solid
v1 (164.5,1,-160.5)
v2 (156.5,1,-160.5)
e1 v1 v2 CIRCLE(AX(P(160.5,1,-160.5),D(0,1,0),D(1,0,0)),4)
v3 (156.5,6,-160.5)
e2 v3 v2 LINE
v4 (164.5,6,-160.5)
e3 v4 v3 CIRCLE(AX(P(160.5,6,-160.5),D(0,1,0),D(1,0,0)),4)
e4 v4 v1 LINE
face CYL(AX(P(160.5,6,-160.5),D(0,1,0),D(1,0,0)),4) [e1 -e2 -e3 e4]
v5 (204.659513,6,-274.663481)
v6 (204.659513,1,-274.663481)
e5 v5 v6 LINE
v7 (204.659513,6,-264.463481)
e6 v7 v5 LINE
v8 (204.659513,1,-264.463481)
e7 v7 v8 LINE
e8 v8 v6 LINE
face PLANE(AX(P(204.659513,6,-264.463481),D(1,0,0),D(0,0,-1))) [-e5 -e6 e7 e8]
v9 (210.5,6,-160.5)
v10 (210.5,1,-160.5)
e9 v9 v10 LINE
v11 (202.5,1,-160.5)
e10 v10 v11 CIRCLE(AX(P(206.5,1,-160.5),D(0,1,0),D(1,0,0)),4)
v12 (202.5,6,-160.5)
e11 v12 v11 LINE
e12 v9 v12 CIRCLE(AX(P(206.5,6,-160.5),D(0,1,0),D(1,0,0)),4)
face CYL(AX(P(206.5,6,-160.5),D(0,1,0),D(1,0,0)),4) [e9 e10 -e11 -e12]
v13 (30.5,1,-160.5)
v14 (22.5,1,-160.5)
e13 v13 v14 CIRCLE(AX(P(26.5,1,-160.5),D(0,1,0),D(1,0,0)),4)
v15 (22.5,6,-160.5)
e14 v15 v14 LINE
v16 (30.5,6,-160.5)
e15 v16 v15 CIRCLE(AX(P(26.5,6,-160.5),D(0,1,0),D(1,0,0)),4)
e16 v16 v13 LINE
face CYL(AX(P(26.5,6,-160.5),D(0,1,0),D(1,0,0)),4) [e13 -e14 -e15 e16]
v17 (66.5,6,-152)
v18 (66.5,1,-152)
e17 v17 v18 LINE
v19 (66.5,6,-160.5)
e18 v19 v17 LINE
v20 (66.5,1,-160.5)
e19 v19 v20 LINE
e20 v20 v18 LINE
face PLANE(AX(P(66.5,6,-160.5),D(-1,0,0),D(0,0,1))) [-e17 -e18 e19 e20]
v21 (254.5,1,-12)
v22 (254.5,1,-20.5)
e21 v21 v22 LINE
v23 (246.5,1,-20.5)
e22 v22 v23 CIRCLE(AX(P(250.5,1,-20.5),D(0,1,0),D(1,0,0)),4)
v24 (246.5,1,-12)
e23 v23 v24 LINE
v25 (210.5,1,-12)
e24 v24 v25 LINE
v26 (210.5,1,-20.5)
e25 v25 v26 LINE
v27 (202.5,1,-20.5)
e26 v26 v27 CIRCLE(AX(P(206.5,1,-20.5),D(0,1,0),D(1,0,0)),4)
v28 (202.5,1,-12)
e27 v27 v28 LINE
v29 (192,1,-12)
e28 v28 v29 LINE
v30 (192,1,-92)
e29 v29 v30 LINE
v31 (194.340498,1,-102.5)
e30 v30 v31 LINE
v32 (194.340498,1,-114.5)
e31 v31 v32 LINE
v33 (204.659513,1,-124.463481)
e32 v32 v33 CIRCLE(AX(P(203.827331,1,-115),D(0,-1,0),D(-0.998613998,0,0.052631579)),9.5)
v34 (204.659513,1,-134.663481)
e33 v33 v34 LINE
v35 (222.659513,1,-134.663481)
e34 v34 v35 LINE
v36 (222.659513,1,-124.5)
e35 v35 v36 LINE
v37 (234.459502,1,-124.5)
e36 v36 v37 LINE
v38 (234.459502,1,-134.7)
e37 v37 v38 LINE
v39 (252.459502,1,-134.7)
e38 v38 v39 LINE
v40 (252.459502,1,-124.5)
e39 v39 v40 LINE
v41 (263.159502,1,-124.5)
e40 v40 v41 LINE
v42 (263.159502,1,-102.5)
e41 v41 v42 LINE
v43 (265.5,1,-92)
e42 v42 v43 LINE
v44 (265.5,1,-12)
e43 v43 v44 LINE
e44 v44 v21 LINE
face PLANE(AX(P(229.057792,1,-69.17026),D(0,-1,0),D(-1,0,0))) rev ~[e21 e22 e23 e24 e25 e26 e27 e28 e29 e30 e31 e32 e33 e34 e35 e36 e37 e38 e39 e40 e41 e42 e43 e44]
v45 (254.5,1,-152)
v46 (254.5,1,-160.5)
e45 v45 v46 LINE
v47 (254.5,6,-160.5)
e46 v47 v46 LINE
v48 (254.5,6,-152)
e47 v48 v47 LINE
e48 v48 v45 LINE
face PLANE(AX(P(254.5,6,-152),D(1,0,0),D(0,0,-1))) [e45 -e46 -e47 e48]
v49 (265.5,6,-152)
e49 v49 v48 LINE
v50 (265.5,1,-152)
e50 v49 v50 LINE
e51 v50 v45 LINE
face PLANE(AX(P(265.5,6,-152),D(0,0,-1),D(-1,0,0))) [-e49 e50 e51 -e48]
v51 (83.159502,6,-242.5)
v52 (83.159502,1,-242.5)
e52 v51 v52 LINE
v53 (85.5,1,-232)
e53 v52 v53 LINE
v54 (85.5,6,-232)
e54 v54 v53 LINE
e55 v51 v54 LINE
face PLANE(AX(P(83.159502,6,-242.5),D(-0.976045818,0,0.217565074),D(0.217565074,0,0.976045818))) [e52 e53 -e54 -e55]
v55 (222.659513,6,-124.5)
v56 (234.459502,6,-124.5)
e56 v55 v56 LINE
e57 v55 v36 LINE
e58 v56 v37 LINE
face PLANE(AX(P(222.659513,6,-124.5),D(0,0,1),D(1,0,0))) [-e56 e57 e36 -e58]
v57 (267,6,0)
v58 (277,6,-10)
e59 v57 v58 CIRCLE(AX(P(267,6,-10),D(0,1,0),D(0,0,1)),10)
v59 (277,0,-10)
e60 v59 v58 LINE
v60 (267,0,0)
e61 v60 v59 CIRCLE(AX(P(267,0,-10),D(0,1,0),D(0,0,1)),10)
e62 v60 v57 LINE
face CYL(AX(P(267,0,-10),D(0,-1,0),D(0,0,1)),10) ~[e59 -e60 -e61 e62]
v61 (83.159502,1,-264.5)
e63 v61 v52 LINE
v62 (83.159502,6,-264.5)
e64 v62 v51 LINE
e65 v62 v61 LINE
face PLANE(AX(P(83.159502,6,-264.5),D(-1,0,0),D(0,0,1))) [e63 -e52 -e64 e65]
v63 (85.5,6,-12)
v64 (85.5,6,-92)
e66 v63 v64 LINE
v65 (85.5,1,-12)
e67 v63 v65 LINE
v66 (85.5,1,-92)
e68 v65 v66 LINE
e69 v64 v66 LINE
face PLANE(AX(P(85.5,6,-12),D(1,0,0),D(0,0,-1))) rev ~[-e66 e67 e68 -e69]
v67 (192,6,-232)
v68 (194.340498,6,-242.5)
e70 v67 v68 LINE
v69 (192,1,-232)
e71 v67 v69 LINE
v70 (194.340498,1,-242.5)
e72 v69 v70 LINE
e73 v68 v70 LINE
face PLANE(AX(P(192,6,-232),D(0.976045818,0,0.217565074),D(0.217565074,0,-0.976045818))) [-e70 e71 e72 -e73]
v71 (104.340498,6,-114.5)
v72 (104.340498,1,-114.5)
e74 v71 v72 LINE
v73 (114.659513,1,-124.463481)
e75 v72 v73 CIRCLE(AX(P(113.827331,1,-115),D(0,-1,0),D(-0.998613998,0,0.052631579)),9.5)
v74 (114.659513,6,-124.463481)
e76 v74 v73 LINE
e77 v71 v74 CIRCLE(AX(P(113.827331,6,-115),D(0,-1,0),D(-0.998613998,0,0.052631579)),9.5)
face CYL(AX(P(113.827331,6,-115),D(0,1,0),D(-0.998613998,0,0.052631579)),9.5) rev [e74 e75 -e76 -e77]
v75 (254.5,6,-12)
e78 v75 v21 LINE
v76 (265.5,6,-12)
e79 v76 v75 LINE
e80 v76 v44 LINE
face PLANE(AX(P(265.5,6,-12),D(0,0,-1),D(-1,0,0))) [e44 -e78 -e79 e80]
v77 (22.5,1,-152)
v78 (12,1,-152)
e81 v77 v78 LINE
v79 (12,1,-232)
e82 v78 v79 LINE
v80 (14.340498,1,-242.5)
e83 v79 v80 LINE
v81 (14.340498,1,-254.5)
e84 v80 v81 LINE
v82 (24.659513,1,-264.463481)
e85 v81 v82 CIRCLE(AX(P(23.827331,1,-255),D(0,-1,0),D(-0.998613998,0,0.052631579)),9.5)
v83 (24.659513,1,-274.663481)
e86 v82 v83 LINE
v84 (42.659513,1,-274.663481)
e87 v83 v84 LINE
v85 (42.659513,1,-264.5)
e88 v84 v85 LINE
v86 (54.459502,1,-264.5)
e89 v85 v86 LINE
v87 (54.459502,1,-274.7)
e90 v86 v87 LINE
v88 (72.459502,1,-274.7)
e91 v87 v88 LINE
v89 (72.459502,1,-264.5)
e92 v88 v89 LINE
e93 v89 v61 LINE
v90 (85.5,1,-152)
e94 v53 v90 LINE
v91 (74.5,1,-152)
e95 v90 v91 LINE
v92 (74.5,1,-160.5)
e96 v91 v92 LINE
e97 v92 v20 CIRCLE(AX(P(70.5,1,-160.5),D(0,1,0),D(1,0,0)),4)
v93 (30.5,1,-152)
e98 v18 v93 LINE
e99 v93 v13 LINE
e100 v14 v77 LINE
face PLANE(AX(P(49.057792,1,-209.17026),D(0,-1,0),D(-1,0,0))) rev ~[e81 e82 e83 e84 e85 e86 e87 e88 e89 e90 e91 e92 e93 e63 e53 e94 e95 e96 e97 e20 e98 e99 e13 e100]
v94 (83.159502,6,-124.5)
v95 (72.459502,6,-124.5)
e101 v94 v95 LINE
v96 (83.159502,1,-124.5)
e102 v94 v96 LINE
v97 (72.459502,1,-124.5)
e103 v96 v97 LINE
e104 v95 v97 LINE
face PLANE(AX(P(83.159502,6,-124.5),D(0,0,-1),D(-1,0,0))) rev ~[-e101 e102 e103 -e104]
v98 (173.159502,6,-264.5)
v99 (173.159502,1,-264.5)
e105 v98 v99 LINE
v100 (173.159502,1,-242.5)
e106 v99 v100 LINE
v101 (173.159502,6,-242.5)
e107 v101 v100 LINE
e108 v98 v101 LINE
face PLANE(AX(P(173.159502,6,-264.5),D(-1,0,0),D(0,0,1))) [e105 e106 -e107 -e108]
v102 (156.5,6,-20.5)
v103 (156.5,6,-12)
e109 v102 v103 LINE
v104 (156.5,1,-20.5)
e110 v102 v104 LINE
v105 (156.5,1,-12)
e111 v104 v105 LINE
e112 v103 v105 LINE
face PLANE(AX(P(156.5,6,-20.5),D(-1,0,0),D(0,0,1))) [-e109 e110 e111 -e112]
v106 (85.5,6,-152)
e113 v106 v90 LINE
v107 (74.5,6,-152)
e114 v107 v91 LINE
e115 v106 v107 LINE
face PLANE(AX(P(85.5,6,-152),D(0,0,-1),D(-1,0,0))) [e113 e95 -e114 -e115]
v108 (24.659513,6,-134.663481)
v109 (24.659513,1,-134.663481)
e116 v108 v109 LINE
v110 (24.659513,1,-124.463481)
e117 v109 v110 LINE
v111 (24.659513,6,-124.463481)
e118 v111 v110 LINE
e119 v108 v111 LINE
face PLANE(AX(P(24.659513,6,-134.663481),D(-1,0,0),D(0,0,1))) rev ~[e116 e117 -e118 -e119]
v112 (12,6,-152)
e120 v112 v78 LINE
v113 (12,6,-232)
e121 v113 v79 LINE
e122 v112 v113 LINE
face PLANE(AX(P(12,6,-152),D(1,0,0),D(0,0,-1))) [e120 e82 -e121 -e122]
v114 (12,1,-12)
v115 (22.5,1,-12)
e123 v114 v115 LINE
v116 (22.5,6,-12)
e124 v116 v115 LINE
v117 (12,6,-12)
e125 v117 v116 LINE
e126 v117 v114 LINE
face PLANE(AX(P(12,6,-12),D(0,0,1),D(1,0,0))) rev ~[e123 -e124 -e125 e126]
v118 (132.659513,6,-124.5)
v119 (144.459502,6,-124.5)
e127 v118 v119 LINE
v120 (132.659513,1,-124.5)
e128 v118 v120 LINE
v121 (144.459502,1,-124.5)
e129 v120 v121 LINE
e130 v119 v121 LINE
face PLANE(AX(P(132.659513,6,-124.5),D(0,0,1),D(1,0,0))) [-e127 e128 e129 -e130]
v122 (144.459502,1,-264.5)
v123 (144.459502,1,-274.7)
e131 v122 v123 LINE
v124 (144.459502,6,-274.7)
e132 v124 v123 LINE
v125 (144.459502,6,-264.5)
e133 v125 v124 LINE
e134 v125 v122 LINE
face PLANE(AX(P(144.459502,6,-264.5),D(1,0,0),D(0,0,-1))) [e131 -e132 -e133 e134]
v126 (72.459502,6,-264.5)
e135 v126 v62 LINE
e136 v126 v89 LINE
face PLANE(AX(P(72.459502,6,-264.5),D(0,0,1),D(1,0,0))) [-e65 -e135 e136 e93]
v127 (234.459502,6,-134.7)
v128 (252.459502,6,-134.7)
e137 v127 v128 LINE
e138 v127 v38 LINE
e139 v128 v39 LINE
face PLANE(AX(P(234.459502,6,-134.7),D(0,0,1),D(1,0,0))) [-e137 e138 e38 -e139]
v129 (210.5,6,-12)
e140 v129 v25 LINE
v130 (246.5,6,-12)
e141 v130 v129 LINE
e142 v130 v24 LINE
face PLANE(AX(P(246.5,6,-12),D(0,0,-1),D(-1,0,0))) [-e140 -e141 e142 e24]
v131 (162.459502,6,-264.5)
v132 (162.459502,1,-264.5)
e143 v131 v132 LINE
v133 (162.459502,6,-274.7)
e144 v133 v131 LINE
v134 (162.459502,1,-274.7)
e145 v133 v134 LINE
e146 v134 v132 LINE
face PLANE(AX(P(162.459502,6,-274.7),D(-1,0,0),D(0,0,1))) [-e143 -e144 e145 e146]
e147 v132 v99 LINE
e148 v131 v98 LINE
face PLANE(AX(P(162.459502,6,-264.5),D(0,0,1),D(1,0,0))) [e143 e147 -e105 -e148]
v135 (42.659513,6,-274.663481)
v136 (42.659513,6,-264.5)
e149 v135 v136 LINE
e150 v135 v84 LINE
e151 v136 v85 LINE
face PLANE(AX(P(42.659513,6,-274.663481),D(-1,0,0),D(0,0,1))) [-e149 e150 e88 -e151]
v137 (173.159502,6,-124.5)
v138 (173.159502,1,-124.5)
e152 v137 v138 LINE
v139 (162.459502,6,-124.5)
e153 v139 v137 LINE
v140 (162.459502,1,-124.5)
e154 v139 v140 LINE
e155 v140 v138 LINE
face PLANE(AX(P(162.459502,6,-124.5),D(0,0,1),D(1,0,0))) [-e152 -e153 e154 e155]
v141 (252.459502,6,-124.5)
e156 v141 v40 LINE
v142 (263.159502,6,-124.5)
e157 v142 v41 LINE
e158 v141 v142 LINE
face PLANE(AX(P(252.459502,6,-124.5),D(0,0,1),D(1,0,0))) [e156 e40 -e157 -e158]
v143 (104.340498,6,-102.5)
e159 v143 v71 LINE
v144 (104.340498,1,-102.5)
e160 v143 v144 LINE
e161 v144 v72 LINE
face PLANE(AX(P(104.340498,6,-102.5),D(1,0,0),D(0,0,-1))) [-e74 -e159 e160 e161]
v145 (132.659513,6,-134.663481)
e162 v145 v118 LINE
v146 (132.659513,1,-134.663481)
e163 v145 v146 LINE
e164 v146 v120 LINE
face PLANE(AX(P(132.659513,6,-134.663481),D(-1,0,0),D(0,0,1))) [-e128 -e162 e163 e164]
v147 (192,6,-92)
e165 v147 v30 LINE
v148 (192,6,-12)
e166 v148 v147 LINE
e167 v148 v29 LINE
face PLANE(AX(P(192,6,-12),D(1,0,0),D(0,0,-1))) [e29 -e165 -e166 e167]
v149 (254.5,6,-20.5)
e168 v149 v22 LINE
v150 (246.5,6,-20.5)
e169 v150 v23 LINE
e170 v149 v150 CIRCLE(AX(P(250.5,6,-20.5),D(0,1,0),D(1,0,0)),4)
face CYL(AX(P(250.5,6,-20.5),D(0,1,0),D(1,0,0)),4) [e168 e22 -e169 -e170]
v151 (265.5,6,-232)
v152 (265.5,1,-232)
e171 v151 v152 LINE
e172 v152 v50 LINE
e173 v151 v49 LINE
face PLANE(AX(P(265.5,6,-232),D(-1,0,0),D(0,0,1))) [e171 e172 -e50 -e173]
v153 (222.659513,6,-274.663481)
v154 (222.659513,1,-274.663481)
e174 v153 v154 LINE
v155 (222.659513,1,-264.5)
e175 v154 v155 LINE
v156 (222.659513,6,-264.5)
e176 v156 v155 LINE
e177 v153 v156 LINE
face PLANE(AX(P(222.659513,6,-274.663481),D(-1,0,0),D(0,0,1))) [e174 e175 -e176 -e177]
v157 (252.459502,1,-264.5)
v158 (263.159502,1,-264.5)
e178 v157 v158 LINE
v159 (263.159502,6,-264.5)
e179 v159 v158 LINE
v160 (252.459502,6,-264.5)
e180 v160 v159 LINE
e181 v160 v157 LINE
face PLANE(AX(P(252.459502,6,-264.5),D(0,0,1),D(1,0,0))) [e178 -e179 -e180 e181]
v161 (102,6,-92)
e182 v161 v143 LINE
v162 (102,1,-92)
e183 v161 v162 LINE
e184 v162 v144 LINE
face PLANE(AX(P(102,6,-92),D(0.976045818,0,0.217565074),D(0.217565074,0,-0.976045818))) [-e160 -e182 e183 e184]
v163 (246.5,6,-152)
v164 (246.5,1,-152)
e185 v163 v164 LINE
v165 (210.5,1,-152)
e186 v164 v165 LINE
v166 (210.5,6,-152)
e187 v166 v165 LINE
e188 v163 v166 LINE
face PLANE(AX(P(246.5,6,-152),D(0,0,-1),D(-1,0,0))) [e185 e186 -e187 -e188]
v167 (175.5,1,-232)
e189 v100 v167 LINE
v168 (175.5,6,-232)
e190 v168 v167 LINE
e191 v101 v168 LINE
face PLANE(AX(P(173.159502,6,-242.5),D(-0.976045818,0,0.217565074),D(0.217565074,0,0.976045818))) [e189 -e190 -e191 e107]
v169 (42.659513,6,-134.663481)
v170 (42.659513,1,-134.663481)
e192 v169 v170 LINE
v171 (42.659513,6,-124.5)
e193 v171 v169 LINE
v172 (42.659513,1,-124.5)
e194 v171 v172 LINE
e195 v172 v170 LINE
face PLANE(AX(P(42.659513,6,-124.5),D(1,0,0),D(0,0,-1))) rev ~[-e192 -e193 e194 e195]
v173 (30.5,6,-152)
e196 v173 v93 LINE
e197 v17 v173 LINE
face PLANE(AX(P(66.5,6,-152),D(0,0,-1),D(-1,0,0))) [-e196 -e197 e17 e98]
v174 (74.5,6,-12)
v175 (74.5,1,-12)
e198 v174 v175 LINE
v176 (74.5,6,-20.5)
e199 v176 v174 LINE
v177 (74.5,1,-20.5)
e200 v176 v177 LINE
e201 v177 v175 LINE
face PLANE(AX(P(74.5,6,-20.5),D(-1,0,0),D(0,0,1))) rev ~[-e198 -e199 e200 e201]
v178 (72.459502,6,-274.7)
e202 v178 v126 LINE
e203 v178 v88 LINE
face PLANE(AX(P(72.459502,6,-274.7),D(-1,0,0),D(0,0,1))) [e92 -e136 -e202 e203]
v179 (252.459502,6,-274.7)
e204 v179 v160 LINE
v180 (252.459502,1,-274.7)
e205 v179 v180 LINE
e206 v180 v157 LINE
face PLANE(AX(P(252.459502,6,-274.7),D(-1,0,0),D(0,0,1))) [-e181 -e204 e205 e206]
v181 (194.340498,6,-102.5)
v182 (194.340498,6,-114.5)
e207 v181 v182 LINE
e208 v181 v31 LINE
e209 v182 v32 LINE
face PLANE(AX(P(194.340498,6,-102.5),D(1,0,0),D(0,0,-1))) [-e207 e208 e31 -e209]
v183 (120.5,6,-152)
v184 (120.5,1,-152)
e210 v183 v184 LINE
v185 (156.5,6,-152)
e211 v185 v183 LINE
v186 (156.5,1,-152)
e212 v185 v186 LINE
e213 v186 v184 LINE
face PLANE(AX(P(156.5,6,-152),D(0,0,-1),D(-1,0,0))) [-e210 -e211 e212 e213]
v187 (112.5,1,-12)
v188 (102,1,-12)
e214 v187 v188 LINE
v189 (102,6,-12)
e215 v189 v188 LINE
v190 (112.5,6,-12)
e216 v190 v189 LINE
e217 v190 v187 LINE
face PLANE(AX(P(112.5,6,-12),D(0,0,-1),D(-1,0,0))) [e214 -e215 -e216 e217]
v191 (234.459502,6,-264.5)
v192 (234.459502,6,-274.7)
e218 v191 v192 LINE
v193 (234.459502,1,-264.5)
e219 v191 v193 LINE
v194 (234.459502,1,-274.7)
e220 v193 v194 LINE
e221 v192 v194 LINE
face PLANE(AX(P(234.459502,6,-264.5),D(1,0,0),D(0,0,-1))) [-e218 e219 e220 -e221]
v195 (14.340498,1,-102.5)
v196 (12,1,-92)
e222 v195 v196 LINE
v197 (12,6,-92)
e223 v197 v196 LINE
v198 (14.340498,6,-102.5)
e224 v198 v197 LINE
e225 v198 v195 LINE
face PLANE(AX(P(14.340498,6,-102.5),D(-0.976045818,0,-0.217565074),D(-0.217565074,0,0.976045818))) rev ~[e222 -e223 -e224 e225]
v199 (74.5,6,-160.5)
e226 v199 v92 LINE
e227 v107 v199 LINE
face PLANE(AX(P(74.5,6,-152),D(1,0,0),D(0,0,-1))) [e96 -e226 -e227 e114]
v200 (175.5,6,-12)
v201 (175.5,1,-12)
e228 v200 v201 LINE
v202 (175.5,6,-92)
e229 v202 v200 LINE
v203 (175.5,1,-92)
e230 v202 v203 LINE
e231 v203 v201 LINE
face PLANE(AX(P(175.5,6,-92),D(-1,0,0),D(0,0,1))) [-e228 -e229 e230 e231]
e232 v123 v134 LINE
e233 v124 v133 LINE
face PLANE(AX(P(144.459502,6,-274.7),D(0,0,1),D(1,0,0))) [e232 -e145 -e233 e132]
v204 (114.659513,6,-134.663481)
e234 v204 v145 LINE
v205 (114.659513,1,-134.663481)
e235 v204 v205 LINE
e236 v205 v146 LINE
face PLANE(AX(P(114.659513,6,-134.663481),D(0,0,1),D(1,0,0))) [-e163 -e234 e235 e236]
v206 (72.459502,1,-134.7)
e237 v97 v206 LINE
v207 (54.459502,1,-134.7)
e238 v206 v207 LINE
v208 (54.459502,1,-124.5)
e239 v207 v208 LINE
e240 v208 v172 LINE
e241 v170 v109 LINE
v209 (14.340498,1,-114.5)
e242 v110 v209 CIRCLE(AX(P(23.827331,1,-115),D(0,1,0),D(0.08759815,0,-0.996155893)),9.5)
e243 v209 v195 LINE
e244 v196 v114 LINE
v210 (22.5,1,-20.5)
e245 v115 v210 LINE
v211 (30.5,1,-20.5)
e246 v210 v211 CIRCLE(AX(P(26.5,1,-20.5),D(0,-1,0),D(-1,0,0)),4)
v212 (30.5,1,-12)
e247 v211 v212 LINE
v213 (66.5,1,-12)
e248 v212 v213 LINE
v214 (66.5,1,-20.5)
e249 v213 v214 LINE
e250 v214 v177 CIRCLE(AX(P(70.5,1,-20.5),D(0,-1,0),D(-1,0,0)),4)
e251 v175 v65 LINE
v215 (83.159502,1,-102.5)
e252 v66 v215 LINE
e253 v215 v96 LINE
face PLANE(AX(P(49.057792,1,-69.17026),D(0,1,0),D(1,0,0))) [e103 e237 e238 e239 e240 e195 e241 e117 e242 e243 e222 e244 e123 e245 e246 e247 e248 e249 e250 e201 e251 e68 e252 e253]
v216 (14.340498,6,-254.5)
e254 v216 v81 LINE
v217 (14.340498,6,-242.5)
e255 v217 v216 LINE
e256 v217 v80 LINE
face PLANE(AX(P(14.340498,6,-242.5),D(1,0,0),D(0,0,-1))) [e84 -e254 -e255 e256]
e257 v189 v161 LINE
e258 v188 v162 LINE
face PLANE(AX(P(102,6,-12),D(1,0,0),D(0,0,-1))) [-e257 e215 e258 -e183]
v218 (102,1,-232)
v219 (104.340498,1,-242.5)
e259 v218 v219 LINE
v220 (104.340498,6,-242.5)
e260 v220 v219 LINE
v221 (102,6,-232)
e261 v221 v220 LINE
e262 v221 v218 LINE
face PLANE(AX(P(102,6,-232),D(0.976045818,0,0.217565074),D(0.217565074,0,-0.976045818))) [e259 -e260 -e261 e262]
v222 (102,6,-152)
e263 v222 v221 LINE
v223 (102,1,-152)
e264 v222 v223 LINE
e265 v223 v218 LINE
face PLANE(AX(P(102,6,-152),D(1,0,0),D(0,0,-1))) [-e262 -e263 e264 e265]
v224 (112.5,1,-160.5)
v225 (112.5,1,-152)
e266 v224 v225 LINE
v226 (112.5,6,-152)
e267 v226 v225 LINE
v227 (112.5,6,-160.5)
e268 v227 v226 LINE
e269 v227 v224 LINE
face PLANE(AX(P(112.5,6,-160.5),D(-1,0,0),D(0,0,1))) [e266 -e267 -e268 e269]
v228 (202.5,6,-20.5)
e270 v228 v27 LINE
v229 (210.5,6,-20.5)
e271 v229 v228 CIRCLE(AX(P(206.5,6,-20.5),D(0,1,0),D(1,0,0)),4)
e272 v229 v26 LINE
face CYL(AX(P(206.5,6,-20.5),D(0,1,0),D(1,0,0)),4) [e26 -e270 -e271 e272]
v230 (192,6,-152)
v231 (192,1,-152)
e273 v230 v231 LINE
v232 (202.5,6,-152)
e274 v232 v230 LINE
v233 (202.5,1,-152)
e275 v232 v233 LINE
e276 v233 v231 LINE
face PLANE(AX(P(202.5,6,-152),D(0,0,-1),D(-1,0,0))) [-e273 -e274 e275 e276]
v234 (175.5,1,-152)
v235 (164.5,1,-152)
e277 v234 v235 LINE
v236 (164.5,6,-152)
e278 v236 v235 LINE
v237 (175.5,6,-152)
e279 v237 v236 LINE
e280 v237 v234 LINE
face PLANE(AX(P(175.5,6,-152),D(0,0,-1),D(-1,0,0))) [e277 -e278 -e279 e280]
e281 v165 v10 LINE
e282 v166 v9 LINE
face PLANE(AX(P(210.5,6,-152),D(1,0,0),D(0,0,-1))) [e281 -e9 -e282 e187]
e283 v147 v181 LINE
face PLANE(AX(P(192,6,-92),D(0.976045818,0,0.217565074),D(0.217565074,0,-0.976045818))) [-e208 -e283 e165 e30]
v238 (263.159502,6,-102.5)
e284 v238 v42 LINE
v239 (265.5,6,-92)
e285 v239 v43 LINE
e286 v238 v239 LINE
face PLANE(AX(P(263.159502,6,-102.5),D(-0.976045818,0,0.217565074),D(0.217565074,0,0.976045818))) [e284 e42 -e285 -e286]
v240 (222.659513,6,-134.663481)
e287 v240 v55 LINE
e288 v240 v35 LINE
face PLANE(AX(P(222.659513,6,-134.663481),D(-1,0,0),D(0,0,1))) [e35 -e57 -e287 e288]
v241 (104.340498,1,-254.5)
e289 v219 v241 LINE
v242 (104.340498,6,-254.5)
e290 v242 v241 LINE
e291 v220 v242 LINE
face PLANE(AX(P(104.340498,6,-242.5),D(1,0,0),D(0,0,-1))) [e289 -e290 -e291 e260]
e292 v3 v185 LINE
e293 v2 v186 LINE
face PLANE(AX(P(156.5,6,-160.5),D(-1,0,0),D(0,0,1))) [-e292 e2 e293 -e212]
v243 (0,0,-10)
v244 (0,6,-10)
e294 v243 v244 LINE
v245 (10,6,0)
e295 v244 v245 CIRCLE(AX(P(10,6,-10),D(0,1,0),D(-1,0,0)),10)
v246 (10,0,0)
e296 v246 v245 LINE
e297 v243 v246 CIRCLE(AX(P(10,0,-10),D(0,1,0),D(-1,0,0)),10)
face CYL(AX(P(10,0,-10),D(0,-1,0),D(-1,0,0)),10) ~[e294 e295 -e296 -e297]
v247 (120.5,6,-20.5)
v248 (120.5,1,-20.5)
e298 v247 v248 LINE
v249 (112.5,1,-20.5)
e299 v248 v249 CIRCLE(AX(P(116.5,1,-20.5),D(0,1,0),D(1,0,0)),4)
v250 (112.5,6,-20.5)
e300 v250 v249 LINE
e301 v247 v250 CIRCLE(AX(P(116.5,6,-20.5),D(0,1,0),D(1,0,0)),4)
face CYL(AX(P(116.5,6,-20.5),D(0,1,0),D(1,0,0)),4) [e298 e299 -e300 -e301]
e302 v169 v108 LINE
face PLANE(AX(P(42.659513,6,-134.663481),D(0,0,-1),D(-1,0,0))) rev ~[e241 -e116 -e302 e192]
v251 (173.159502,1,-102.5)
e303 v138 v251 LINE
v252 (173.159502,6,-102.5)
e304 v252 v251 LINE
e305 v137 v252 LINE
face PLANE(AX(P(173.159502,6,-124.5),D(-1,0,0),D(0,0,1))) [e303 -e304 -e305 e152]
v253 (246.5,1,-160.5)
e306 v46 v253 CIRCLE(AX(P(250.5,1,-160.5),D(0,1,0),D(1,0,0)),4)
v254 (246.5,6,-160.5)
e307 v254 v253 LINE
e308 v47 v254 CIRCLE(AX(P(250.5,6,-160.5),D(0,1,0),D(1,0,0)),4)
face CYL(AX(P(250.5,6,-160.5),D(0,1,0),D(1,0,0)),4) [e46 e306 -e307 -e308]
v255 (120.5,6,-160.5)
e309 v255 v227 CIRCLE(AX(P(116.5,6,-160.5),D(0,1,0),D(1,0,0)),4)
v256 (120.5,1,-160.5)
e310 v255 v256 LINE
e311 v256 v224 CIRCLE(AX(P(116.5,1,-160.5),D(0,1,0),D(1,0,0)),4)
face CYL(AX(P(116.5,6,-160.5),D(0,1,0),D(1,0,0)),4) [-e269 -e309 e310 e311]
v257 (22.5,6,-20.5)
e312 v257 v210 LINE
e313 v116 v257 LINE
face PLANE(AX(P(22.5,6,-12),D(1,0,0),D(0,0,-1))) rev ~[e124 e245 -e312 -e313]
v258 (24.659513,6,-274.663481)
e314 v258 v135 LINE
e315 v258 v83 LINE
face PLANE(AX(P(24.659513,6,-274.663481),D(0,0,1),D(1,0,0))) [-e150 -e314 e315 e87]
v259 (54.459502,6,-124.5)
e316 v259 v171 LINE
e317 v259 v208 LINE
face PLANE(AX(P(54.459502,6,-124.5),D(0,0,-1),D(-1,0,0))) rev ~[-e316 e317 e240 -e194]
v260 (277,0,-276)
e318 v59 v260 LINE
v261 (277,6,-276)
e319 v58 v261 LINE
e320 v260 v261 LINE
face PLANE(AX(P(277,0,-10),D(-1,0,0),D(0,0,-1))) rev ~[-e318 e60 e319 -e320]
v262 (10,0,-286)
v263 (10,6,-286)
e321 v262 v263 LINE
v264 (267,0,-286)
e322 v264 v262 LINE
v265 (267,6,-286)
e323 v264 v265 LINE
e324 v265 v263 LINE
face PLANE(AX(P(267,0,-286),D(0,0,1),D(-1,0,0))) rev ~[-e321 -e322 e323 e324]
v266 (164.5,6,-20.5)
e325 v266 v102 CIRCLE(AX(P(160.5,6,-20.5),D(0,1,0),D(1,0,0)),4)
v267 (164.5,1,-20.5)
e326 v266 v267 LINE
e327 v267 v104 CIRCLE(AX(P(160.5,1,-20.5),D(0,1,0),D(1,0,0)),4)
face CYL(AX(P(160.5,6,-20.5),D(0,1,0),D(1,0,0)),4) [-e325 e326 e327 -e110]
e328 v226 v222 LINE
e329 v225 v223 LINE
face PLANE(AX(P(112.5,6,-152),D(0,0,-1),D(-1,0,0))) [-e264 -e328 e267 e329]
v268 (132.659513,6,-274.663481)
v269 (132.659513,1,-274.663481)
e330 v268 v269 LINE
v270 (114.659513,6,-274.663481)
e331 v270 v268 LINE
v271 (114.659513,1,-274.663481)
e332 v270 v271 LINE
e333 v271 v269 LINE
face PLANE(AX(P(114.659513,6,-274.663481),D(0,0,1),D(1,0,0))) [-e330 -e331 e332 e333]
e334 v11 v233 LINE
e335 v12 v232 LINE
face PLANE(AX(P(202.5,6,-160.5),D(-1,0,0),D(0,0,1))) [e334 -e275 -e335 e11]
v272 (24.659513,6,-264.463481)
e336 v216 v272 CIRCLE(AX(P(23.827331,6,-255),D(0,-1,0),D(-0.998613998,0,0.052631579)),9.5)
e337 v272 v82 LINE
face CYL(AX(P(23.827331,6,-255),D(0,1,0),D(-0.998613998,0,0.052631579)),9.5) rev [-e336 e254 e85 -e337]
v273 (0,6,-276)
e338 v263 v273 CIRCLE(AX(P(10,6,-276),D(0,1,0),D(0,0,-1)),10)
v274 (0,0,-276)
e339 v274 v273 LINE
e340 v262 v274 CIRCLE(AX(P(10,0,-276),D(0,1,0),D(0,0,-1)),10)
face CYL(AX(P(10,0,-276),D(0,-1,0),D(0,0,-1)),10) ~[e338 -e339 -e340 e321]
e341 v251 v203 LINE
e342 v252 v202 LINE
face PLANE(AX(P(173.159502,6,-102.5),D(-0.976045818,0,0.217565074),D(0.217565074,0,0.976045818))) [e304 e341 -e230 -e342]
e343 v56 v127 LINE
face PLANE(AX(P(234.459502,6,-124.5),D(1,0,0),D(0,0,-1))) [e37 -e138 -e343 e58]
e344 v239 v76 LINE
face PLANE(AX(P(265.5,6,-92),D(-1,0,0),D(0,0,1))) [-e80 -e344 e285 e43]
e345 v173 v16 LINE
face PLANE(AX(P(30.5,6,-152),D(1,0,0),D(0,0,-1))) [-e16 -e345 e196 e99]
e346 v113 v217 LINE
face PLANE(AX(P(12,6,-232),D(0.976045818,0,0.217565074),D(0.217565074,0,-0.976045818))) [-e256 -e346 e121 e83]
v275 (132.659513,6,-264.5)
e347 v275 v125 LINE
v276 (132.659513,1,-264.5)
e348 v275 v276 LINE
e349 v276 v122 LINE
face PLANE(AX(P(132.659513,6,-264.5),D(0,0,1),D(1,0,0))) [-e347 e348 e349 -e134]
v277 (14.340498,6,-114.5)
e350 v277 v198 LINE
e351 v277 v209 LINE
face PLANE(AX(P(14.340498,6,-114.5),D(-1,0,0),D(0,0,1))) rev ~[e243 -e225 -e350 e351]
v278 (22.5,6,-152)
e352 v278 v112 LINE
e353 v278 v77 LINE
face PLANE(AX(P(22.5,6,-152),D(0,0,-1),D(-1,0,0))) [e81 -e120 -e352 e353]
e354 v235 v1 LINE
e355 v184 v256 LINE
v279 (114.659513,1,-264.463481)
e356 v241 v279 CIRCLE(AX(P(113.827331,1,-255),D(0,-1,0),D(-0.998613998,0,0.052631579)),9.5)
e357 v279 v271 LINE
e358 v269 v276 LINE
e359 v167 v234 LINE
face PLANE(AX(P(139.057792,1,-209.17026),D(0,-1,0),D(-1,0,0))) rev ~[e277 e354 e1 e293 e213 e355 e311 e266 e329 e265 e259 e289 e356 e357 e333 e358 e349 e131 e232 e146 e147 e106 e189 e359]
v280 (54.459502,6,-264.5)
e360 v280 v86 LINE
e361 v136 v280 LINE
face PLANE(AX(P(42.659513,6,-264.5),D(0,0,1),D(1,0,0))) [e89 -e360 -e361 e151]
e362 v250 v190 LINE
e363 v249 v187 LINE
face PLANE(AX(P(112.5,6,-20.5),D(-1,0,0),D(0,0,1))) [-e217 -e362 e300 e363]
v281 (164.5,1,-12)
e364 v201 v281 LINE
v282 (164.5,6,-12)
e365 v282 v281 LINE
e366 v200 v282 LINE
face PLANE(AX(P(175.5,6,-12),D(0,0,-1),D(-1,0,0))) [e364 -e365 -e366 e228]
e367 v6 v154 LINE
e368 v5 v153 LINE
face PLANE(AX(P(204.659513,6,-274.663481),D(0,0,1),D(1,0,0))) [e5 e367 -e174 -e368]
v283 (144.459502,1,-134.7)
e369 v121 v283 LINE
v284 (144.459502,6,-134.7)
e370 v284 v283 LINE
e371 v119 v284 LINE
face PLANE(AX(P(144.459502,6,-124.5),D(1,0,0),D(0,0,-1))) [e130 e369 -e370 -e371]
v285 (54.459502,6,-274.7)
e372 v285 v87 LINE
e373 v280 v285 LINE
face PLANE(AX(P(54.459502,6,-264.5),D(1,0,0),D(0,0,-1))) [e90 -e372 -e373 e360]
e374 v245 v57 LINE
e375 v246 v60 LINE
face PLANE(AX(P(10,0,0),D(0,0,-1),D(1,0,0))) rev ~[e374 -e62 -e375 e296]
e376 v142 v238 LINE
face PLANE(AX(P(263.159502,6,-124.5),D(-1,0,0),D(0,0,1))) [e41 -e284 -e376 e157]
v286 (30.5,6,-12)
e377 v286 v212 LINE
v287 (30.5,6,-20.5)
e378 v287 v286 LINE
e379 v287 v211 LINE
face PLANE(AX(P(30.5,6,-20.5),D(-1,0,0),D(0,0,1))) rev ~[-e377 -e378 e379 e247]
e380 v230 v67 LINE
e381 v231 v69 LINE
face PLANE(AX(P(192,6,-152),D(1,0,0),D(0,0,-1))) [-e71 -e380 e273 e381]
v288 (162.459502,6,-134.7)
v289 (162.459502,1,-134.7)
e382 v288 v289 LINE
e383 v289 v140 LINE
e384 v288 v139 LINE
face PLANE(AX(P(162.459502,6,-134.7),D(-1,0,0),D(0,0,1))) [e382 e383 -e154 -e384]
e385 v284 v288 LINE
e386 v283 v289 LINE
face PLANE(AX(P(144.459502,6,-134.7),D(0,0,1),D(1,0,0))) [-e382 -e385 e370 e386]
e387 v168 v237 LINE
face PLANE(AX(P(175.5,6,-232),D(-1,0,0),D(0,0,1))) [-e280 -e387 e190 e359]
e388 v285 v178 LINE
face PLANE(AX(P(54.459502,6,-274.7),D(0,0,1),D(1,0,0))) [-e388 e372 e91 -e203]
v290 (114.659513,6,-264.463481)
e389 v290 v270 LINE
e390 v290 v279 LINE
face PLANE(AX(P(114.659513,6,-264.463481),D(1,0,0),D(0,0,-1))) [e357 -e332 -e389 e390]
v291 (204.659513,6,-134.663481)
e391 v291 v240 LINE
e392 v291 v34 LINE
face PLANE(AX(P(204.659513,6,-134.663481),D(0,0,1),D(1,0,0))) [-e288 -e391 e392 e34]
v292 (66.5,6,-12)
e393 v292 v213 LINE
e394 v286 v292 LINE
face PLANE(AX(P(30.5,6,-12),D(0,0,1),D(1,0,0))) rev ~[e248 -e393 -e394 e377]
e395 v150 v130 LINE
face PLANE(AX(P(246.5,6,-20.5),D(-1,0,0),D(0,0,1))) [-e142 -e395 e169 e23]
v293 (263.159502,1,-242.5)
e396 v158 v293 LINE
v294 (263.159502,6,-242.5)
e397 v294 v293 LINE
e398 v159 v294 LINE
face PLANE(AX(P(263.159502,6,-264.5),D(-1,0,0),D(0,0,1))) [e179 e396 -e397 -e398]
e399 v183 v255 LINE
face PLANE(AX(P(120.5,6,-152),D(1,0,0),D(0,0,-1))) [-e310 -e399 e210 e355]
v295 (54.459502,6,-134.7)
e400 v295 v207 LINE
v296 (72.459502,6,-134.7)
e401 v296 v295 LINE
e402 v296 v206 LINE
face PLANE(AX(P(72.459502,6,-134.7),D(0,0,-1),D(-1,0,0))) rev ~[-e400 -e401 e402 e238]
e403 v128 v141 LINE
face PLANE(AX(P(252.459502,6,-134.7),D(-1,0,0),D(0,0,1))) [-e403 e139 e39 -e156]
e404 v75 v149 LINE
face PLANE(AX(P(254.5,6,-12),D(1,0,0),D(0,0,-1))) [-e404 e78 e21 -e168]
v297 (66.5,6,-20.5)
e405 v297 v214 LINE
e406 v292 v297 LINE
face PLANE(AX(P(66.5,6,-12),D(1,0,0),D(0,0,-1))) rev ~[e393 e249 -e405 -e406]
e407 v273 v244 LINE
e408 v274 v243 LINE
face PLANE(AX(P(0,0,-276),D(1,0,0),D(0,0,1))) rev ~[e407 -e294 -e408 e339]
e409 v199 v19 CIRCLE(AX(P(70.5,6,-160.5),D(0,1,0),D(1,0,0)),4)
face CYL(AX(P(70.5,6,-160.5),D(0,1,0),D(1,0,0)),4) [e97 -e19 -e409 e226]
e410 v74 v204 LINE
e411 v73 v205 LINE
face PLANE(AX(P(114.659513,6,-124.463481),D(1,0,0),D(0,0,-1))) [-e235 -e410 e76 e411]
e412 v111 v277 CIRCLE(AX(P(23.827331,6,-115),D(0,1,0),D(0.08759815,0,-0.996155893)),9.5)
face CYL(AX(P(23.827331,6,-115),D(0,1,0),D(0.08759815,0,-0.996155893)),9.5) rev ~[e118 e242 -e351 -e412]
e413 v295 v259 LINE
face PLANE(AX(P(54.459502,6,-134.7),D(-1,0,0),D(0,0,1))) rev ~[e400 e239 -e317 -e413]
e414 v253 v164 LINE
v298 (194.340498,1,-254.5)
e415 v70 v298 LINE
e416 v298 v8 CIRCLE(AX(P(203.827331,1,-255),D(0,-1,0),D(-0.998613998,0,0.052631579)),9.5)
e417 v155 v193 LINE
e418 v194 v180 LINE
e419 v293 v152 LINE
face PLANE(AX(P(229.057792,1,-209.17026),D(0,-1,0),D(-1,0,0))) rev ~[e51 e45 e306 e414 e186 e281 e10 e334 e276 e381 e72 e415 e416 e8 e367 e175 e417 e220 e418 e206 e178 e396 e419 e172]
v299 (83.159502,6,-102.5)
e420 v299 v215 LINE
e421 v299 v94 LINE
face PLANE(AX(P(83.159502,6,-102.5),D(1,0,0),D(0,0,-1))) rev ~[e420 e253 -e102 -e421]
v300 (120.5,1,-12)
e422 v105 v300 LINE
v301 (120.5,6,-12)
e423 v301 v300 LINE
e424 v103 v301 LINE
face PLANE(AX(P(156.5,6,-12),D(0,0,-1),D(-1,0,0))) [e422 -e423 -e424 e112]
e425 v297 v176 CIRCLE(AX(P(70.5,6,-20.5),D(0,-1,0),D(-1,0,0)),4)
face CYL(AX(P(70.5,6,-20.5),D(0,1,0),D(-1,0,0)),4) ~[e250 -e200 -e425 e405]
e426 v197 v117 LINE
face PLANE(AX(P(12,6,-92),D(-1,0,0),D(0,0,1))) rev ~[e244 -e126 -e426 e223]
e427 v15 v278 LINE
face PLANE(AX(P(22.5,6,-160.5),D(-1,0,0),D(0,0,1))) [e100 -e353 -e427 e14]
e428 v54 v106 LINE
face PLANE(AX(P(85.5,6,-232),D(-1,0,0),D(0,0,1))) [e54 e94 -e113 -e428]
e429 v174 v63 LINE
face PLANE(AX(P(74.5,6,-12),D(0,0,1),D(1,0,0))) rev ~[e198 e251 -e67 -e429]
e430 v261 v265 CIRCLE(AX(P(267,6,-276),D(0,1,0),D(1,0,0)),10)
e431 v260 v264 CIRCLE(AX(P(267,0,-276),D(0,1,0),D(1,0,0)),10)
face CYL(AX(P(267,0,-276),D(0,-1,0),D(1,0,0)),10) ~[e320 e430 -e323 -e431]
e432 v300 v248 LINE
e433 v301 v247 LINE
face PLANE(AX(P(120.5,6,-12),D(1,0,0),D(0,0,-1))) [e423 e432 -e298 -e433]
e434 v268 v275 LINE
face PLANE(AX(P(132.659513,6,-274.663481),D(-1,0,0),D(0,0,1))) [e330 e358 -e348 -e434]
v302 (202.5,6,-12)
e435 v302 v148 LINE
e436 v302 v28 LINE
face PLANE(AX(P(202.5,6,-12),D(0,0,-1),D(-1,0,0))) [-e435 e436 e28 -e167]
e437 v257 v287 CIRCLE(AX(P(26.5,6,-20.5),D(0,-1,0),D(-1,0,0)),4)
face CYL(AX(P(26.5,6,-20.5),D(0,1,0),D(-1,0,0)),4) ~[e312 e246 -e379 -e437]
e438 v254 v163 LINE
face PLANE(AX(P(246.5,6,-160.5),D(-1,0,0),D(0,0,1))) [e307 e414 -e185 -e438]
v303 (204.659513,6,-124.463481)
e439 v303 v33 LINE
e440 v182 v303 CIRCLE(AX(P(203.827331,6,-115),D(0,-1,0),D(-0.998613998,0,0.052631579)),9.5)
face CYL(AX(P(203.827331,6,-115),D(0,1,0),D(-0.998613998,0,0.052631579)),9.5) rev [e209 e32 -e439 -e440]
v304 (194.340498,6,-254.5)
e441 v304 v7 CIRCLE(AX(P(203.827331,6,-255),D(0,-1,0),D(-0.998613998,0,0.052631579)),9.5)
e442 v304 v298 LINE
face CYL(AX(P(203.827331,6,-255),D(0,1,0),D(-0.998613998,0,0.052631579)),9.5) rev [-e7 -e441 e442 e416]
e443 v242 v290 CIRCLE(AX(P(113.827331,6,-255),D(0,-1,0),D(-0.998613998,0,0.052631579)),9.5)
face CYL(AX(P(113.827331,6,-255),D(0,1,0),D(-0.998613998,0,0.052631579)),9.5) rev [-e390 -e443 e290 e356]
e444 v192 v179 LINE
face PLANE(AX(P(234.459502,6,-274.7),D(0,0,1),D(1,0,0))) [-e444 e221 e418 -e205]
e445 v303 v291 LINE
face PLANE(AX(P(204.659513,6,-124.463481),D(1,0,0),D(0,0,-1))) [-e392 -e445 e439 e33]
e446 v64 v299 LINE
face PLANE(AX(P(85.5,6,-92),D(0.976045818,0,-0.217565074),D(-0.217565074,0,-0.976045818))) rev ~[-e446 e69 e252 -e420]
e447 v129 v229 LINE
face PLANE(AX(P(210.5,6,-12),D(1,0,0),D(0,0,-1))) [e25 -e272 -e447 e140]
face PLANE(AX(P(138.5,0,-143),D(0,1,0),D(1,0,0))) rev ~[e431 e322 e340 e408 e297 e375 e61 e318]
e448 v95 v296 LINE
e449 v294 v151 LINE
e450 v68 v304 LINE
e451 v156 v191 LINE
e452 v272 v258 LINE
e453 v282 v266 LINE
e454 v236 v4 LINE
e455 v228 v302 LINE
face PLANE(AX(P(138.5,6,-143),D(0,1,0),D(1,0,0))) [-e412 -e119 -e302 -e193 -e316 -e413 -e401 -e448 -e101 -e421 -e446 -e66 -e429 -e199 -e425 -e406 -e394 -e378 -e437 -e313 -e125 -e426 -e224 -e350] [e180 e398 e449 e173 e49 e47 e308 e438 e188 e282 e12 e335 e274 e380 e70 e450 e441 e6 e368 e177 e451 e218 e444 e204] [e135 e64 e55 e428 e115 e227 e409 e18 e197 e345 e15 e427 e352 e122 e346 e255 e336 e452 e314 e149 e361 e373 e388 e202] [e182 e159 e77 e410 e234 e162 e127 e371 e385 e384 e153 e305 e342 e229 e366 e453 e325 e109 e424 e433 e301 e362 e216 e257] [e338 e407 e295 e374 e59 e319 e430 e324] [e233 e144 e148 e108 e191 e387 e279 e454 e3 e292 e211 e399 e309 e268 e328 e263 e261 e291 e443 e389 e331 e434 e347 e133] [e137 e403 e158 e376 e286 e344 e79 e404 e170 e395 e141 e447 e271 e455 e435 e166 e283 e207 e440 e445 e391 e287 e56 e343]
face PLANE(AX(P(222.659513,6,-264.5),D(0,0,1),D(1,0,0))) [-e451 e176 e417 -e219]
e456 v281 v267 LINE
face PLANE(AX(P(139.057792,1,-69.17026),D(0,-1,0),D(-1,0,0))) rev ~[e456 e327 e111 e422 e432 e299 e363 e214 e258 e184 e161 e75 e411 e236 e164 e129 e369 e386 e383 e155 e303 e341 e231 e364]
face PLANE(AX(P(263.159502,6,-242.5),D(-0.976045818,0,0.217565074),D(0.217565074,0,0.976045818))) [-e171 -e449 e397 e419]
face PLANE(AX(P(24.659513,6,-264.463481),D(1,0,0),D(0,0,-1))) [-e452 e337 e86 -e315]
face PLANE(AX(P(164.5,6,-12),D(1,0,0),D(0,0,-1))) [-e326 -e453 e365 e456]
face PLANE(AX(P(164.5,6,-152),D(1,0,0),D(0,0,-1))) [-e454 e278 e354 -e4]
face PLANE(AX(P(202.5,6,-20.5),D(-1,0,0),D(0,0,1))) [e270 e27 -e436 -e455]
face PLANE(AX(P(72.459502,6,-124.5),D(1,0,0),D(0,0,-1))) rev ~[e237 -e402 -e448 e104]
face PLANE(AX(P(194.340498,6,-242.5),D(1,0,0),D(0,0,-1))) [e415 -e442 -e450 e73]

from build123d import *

# Parameters (mm, degrees)
BOSS_EXTRUDE1_DEPTH = 6
CUT_EXTRUDE1_DEPTH  = 5


with BuildPart() as part:
    # Sketch1 → Boss-Extrude1 (new body)
    with BuildSketch(Plane(origin=(0, 0, 0), x_dir=(1, 0, 0), z_dir=(0, 1, 0))):
        with BuildLine():
            Line((10, 0), (267, 0))
            ThreePointArc((267, 0), (274.071067812, 2.928932188), (277, 10))
            Line((277, 10), (277, 276))
            ThreePointArc((277, 276), (274.071067812, 283.071067812), (267, 286))
            Line((267, 286), (10, 286))
            ThreePointArc((10, 286), (2.928932188, 283.071067812), (0, 276))
            Line((0, 276), (0, 10))
            ThreePointArc((0, 10), (2.928932188, 2.928932188), (10, 0))
        make_face()
    extrude(amount=BOSS_EXTRUDE1_DEPTH)

    # Sketch2 → Cut-Extrude1 (cut)
    with BuildSketch(Plane(origin=(0, 6, 0), x_dir=(1, 0, 0), z_dir=(0, 1, 0))):
        with BuildLine():
            Line((12, 12), (22.5, 12))
            Line((22.5, 12), (22.5, 20.5))
            ThreePointArc((22.5, 20.5), (26.5, 24.5), (30.5, 20.5))
            Line((30.5, 20.5), (30.5, 12))
            Line((30.5, 12), (66.5, 12))
            Line((66.5, 12), (66.5, 20.5))
            ThreePointArc((66.5, 20.5), (70.5, 24.5), (74.5, 20.5))
            Line((74.5, 20.5), (74.5, 12))
            Line((74.5, 12), (85.5, 12))
            Line((85.5, 12), (85.5, 92))
            Line((85.5, 92), (83.159502005, 102.5))
            Line((83.159502005, 102.5), (83.159502005, 124.5))
            Line((83.159502005, 124.5), (72.459502005, 124.5))
            Line((72.459502005, 124.5), (72.459502005, 134.7))
            Line((72.459502005, 134.7), (54.459502005, 134.7))
            Line((54.459502005, 134.7), (54.459502005, 124.5))
            Line((54.459502005, 124.5), (42.659513404, 124.5))
            Line((42.659513404, 124.5), (42.659513404, 134.663480988))
            Line((42.659513404, 134.663480988), (24.659513404, 134.663480988))
            Line((24.659513404, 134.663480988), (24.659513404, 124.463480988))
            ThreePointArc((24.659513404, 124.463480988), (17.228582428, 121.834216678), (14.340497995, 114.5))
            Line((14.340497995, 114.5), (14.340497995, 102.5))
            Line((14.340497995, 102.5), (12, 92))
            Line((12, 92), (12, 12))
        make_face()
        with BuildLine():
            Line((114.659513404, 124.463480988), (114.659513404, 134.663480988))
            Line((114.659513404, 134.663480988), (132.659513404, 134.663480988))
            Line((132.659513404, 134.663480988), (132.659513404, 124.5))
            Line((132.659513404, 124.5), (144.459502005, 124.5))
            Line((144.459502005, 124.5), (144.459502005, 134.7))
            Line((144.459502005, 134.7), (162.459502005, 134.7))
            Line((162.459502005, 134.7), (162.459502005, 124.5))
            Line((162.459502005, 124.5), (173.159502005, 124.5))
            Line((173.159502005, 124.5), (173.159502005, 102.5))
            Line((173.159502005, 102.5), (175.5, 92))
            Line((175.5, 92), (175.5, 12))
            Line((175.5, 12), (164.5, 12))
            Line((164.5, 12), (164.5, 20.5))
            ThreePointArc((164.5, 20.5), (160.5, 24.5), (156.5, 20.5))
            Line((156.5, 20.5), (156.5, 12))
            Line((156.5, 12), (120.5, 12))
            Line((120.5, 12), (120.5, 20.5))
            ThreePointArc((120.5, 20.5), (116.5, 24.5), (112.5, 20.5))
            Line((112.5, 20.5), (112.5, 12))
            Line((112.5, 12), (102, 12))
            Line((102, 12), (102, 92))
            Line((102, 92), (104.340497995, 102.5))
            Line((104.340497995, 102.5), (104.340497995, 114.5))
            ThreePointArc((104.340497995, 114.5), (107.228582428, 121.834216678), (114.659513404, 124.463480988))
        make_face()
        with BuildLine():
            Line((204.659513404, 124.463480988), (204.659513404, 134.663480988))
            Line((204.659513404, 134.663480988), (222.659513404, 134.663480988))
            Line((222.659513404, 134.663480988), (222.659513404, 124.5))
            Line((222.659513404, 124.5), (234.459502005, 124.5))
            Line((234.459502005, 124.5), (234.459502005, 134.7))
            Line((234.459502005, 134.7), (252.459502005, 134.7))
            Line((252.459502005, 134.7), (252.459502005, 124.5))
            Line((252.459502005, 124.5), (263.159502005, 124.5))
            Line((263.159502005, 124.5), (263.159502005, 102.5))
            Line((263.159502005, 102.5), (265.5, 92))
            Line((265.5, 92), (265.5, 12))
            Line((265.5, 12), (254.5, 12))
            Line((254.5, 12), (254.5, 20.5))
            ThreePointArc((254.5, 20.5), (250.5, 24.5), (246.5, 20.5))
            Line((246.5, 20.5), (246.5, 12))
            Line((246.5, 12), (210.5, 12))
            Line((210.5, 12), (210.5, 20.5))
            ThreePointArc((210.5, 20.5), (206.5, 24.5), (202.5, 20.5))
            Line((202.5, 20.5), (202.5, 12))
            Line((202.5, 12), (192, 12))
            Line((192, 12), (192, 92))
            Line((192, 92), (194.340497995, 102.5))
            Line((194.340497995, 102.5), (194.340497995, 114.5))
            ThreePointArc((194.340497995, 114.5), (197.228582428, 121.834216678), (204.659513404, 124.463480988))
        make_face()
        with BuildLine():
            Line((114.659513404, 264.463480988), (114.659513404, 274.663480988))
            Line((114.659513404, 274.663480988), (132.659513404, 274.663480988))
            Line((132.659513404, 274.663480988), (132.659513404, 264.5))
            Line((132.659513404, 264.5), (144.459502005, 264.5))
            Line((144.459502005, 264.5), (144.459502005, 274.7))
            Line((144.459502005, 274.7), (162.459502005, 274.7))
            Line((162.459502005, 274.7), (162.459502005, 264.5))
            Line((162.459502005, 264.5), (173.159502005, 264.5))
            Line((173.159502005, 264.5), (173.159502005, 242.5))
            Line((173.159502005, 242.5), (175.5, 232))
            Line((175.5, 232), (175.5, 152))
            Line((175.5, 152), (164.5, 152))
            Line((164.5, 152), (164.5, 160.5))
            ThreePointArc((164.5, 160.5), (160.5, 164.5), (156.5, 160.5))
            Line((156.5, 160.5), (156.5, 152))
            Line((156.5, 152), (120.5, 152))
            Line((120.5, 152), (120.5, 160.5))
            ThreePointArc((120.5, 160.5), (116.5, 164.5), (112.5, 160.5))
            Line((112.5, 160.5), (112.5, 152))
            Line((112.5, 152), (102, 152))
            Line((102, 152), (102, 232))
            Line((102, 232), (104.340497995, 242.5))
            Line((104.340497995, 242.5), (104.340497995, 254.5))
            ThreePointArc((104.340497995, 254.5), (107.228582428, 261.834216678), (114.659513404, 264.463480988))
        make_face()
        with BuildLine():
            Line((204.659513404, 264.463480988), (204.659513404, 274.663480988))
            Line((204.659513404, 274.663480988), (222.659513404, 274.663480988))
            Line((222.659513404, 274.663480988), (222.659513404, 264.5))
            Line((222.659513404, 264.5), (234.459502005, 264.5))
            Line((234.459502005, 264.5), (234.459502005, 274.7))
            Line((234.459502005, 274.7), (252.459502005, 274.7))
            Line((252.459502005, 274.7), (252.459502005, 264.5))
            Line((252.459502005, 264.5), (263.159502005, 264.5))
            Line((263.159502005, 264.5), (263.159502005, 242.5))
            Line((263.159502005, 242.5), (265.5, 232))
            Line((265.5, 232), (265.5, 152))
            Line((265.5, 152), (254.5, 152))
            Line((254.5, 152), (254.5, 160.5))
            ThreePointArc((254.5, 160.5), (250.5, 164.5), (246.5, 160.5))
            Line((246.5, 160.5), (246.5, 152))
            Line((246.5, 152), (210.5, 152))
            Line((210.5, 152), (210.5, 160.5))
            ThreePointArc((210.5, 160.5), (206.5, 164.5), (202.5, 160.5))
            Line((202.5, 160.5), (202.5, 152))
            Line((202.5, 152), (192, 152))
            Line((192, 152), (192, 232))
            Line((192, 232), (194.340497995, 242.5))
            Line((194.340497995, 242.5), (194.340497995, 254.5))
            ThreePointArc((194.340497995, 254.5), (197.228582428, 261.834216678), (204.659513404, 264.463480988))
        make_face()
        with BuildLine():
            Line((24.659513404, 264.463480988), (24.659513404, 274.663480988))
            Line((24.659513404, 274.663480988), (42.659513404, 274.663480988))
            Line((42.659513404, 274.663480988), (42.659513404, 264.5))
            Line((42.659513404, 264.5), (54.459502005, 264.5))
            Line((54.459502005, 264.5), (54.459502005, 274.7))
            Line((54.459502005, 274.7), (72.459502005, 274.7))
            Line((72.459502005, 274.7), (72.459502005, 264.5))
            Line((72.459502005, 264.5), (83.159502005, 264.5))
            Line((83.159502005, 264.5), (83.159502005, 242.5))
            Line((83.159502005, 242.5), (85.5, 232))
            Line((85.5, 232), (85.5, 152))
            Line((85.5, 152), (74.5, 152))
            Line((74.5, 152), (74.5, 160.5))
            ThreePointArc((74.5, 160.5), (70.5, 164.5), (66.5, 160.5))
            Line((66.5, 160.5), (66.5, 152))
            Line((66.5, 152), (30.5, 152))
            Line((30.5, 152), (30.5, 160.5))
            ThreePointArc((30.5, 160.5), (26.5, 164.5), (22.5, 160.5))
            Line((22.5, 160.5), (22.5, 152))
            Line((22.5, 152), (12, 152))
            Line((12, 152), (12, 232))
            Line((12, 232), (14.340497995, 242.5))
            Line((14.340497995, 242.5), (14.340497995, 254.5))
            ThreePointArc((14.340497995, 254.5), (17.228582428, 261.834216678), (24.659513404, 264.463480988))
        make_face()
    extrude(amount=-CUT_EXTRUDE1_DEPTH, mode=Mode.SUBTRACT)


solid = part.part
